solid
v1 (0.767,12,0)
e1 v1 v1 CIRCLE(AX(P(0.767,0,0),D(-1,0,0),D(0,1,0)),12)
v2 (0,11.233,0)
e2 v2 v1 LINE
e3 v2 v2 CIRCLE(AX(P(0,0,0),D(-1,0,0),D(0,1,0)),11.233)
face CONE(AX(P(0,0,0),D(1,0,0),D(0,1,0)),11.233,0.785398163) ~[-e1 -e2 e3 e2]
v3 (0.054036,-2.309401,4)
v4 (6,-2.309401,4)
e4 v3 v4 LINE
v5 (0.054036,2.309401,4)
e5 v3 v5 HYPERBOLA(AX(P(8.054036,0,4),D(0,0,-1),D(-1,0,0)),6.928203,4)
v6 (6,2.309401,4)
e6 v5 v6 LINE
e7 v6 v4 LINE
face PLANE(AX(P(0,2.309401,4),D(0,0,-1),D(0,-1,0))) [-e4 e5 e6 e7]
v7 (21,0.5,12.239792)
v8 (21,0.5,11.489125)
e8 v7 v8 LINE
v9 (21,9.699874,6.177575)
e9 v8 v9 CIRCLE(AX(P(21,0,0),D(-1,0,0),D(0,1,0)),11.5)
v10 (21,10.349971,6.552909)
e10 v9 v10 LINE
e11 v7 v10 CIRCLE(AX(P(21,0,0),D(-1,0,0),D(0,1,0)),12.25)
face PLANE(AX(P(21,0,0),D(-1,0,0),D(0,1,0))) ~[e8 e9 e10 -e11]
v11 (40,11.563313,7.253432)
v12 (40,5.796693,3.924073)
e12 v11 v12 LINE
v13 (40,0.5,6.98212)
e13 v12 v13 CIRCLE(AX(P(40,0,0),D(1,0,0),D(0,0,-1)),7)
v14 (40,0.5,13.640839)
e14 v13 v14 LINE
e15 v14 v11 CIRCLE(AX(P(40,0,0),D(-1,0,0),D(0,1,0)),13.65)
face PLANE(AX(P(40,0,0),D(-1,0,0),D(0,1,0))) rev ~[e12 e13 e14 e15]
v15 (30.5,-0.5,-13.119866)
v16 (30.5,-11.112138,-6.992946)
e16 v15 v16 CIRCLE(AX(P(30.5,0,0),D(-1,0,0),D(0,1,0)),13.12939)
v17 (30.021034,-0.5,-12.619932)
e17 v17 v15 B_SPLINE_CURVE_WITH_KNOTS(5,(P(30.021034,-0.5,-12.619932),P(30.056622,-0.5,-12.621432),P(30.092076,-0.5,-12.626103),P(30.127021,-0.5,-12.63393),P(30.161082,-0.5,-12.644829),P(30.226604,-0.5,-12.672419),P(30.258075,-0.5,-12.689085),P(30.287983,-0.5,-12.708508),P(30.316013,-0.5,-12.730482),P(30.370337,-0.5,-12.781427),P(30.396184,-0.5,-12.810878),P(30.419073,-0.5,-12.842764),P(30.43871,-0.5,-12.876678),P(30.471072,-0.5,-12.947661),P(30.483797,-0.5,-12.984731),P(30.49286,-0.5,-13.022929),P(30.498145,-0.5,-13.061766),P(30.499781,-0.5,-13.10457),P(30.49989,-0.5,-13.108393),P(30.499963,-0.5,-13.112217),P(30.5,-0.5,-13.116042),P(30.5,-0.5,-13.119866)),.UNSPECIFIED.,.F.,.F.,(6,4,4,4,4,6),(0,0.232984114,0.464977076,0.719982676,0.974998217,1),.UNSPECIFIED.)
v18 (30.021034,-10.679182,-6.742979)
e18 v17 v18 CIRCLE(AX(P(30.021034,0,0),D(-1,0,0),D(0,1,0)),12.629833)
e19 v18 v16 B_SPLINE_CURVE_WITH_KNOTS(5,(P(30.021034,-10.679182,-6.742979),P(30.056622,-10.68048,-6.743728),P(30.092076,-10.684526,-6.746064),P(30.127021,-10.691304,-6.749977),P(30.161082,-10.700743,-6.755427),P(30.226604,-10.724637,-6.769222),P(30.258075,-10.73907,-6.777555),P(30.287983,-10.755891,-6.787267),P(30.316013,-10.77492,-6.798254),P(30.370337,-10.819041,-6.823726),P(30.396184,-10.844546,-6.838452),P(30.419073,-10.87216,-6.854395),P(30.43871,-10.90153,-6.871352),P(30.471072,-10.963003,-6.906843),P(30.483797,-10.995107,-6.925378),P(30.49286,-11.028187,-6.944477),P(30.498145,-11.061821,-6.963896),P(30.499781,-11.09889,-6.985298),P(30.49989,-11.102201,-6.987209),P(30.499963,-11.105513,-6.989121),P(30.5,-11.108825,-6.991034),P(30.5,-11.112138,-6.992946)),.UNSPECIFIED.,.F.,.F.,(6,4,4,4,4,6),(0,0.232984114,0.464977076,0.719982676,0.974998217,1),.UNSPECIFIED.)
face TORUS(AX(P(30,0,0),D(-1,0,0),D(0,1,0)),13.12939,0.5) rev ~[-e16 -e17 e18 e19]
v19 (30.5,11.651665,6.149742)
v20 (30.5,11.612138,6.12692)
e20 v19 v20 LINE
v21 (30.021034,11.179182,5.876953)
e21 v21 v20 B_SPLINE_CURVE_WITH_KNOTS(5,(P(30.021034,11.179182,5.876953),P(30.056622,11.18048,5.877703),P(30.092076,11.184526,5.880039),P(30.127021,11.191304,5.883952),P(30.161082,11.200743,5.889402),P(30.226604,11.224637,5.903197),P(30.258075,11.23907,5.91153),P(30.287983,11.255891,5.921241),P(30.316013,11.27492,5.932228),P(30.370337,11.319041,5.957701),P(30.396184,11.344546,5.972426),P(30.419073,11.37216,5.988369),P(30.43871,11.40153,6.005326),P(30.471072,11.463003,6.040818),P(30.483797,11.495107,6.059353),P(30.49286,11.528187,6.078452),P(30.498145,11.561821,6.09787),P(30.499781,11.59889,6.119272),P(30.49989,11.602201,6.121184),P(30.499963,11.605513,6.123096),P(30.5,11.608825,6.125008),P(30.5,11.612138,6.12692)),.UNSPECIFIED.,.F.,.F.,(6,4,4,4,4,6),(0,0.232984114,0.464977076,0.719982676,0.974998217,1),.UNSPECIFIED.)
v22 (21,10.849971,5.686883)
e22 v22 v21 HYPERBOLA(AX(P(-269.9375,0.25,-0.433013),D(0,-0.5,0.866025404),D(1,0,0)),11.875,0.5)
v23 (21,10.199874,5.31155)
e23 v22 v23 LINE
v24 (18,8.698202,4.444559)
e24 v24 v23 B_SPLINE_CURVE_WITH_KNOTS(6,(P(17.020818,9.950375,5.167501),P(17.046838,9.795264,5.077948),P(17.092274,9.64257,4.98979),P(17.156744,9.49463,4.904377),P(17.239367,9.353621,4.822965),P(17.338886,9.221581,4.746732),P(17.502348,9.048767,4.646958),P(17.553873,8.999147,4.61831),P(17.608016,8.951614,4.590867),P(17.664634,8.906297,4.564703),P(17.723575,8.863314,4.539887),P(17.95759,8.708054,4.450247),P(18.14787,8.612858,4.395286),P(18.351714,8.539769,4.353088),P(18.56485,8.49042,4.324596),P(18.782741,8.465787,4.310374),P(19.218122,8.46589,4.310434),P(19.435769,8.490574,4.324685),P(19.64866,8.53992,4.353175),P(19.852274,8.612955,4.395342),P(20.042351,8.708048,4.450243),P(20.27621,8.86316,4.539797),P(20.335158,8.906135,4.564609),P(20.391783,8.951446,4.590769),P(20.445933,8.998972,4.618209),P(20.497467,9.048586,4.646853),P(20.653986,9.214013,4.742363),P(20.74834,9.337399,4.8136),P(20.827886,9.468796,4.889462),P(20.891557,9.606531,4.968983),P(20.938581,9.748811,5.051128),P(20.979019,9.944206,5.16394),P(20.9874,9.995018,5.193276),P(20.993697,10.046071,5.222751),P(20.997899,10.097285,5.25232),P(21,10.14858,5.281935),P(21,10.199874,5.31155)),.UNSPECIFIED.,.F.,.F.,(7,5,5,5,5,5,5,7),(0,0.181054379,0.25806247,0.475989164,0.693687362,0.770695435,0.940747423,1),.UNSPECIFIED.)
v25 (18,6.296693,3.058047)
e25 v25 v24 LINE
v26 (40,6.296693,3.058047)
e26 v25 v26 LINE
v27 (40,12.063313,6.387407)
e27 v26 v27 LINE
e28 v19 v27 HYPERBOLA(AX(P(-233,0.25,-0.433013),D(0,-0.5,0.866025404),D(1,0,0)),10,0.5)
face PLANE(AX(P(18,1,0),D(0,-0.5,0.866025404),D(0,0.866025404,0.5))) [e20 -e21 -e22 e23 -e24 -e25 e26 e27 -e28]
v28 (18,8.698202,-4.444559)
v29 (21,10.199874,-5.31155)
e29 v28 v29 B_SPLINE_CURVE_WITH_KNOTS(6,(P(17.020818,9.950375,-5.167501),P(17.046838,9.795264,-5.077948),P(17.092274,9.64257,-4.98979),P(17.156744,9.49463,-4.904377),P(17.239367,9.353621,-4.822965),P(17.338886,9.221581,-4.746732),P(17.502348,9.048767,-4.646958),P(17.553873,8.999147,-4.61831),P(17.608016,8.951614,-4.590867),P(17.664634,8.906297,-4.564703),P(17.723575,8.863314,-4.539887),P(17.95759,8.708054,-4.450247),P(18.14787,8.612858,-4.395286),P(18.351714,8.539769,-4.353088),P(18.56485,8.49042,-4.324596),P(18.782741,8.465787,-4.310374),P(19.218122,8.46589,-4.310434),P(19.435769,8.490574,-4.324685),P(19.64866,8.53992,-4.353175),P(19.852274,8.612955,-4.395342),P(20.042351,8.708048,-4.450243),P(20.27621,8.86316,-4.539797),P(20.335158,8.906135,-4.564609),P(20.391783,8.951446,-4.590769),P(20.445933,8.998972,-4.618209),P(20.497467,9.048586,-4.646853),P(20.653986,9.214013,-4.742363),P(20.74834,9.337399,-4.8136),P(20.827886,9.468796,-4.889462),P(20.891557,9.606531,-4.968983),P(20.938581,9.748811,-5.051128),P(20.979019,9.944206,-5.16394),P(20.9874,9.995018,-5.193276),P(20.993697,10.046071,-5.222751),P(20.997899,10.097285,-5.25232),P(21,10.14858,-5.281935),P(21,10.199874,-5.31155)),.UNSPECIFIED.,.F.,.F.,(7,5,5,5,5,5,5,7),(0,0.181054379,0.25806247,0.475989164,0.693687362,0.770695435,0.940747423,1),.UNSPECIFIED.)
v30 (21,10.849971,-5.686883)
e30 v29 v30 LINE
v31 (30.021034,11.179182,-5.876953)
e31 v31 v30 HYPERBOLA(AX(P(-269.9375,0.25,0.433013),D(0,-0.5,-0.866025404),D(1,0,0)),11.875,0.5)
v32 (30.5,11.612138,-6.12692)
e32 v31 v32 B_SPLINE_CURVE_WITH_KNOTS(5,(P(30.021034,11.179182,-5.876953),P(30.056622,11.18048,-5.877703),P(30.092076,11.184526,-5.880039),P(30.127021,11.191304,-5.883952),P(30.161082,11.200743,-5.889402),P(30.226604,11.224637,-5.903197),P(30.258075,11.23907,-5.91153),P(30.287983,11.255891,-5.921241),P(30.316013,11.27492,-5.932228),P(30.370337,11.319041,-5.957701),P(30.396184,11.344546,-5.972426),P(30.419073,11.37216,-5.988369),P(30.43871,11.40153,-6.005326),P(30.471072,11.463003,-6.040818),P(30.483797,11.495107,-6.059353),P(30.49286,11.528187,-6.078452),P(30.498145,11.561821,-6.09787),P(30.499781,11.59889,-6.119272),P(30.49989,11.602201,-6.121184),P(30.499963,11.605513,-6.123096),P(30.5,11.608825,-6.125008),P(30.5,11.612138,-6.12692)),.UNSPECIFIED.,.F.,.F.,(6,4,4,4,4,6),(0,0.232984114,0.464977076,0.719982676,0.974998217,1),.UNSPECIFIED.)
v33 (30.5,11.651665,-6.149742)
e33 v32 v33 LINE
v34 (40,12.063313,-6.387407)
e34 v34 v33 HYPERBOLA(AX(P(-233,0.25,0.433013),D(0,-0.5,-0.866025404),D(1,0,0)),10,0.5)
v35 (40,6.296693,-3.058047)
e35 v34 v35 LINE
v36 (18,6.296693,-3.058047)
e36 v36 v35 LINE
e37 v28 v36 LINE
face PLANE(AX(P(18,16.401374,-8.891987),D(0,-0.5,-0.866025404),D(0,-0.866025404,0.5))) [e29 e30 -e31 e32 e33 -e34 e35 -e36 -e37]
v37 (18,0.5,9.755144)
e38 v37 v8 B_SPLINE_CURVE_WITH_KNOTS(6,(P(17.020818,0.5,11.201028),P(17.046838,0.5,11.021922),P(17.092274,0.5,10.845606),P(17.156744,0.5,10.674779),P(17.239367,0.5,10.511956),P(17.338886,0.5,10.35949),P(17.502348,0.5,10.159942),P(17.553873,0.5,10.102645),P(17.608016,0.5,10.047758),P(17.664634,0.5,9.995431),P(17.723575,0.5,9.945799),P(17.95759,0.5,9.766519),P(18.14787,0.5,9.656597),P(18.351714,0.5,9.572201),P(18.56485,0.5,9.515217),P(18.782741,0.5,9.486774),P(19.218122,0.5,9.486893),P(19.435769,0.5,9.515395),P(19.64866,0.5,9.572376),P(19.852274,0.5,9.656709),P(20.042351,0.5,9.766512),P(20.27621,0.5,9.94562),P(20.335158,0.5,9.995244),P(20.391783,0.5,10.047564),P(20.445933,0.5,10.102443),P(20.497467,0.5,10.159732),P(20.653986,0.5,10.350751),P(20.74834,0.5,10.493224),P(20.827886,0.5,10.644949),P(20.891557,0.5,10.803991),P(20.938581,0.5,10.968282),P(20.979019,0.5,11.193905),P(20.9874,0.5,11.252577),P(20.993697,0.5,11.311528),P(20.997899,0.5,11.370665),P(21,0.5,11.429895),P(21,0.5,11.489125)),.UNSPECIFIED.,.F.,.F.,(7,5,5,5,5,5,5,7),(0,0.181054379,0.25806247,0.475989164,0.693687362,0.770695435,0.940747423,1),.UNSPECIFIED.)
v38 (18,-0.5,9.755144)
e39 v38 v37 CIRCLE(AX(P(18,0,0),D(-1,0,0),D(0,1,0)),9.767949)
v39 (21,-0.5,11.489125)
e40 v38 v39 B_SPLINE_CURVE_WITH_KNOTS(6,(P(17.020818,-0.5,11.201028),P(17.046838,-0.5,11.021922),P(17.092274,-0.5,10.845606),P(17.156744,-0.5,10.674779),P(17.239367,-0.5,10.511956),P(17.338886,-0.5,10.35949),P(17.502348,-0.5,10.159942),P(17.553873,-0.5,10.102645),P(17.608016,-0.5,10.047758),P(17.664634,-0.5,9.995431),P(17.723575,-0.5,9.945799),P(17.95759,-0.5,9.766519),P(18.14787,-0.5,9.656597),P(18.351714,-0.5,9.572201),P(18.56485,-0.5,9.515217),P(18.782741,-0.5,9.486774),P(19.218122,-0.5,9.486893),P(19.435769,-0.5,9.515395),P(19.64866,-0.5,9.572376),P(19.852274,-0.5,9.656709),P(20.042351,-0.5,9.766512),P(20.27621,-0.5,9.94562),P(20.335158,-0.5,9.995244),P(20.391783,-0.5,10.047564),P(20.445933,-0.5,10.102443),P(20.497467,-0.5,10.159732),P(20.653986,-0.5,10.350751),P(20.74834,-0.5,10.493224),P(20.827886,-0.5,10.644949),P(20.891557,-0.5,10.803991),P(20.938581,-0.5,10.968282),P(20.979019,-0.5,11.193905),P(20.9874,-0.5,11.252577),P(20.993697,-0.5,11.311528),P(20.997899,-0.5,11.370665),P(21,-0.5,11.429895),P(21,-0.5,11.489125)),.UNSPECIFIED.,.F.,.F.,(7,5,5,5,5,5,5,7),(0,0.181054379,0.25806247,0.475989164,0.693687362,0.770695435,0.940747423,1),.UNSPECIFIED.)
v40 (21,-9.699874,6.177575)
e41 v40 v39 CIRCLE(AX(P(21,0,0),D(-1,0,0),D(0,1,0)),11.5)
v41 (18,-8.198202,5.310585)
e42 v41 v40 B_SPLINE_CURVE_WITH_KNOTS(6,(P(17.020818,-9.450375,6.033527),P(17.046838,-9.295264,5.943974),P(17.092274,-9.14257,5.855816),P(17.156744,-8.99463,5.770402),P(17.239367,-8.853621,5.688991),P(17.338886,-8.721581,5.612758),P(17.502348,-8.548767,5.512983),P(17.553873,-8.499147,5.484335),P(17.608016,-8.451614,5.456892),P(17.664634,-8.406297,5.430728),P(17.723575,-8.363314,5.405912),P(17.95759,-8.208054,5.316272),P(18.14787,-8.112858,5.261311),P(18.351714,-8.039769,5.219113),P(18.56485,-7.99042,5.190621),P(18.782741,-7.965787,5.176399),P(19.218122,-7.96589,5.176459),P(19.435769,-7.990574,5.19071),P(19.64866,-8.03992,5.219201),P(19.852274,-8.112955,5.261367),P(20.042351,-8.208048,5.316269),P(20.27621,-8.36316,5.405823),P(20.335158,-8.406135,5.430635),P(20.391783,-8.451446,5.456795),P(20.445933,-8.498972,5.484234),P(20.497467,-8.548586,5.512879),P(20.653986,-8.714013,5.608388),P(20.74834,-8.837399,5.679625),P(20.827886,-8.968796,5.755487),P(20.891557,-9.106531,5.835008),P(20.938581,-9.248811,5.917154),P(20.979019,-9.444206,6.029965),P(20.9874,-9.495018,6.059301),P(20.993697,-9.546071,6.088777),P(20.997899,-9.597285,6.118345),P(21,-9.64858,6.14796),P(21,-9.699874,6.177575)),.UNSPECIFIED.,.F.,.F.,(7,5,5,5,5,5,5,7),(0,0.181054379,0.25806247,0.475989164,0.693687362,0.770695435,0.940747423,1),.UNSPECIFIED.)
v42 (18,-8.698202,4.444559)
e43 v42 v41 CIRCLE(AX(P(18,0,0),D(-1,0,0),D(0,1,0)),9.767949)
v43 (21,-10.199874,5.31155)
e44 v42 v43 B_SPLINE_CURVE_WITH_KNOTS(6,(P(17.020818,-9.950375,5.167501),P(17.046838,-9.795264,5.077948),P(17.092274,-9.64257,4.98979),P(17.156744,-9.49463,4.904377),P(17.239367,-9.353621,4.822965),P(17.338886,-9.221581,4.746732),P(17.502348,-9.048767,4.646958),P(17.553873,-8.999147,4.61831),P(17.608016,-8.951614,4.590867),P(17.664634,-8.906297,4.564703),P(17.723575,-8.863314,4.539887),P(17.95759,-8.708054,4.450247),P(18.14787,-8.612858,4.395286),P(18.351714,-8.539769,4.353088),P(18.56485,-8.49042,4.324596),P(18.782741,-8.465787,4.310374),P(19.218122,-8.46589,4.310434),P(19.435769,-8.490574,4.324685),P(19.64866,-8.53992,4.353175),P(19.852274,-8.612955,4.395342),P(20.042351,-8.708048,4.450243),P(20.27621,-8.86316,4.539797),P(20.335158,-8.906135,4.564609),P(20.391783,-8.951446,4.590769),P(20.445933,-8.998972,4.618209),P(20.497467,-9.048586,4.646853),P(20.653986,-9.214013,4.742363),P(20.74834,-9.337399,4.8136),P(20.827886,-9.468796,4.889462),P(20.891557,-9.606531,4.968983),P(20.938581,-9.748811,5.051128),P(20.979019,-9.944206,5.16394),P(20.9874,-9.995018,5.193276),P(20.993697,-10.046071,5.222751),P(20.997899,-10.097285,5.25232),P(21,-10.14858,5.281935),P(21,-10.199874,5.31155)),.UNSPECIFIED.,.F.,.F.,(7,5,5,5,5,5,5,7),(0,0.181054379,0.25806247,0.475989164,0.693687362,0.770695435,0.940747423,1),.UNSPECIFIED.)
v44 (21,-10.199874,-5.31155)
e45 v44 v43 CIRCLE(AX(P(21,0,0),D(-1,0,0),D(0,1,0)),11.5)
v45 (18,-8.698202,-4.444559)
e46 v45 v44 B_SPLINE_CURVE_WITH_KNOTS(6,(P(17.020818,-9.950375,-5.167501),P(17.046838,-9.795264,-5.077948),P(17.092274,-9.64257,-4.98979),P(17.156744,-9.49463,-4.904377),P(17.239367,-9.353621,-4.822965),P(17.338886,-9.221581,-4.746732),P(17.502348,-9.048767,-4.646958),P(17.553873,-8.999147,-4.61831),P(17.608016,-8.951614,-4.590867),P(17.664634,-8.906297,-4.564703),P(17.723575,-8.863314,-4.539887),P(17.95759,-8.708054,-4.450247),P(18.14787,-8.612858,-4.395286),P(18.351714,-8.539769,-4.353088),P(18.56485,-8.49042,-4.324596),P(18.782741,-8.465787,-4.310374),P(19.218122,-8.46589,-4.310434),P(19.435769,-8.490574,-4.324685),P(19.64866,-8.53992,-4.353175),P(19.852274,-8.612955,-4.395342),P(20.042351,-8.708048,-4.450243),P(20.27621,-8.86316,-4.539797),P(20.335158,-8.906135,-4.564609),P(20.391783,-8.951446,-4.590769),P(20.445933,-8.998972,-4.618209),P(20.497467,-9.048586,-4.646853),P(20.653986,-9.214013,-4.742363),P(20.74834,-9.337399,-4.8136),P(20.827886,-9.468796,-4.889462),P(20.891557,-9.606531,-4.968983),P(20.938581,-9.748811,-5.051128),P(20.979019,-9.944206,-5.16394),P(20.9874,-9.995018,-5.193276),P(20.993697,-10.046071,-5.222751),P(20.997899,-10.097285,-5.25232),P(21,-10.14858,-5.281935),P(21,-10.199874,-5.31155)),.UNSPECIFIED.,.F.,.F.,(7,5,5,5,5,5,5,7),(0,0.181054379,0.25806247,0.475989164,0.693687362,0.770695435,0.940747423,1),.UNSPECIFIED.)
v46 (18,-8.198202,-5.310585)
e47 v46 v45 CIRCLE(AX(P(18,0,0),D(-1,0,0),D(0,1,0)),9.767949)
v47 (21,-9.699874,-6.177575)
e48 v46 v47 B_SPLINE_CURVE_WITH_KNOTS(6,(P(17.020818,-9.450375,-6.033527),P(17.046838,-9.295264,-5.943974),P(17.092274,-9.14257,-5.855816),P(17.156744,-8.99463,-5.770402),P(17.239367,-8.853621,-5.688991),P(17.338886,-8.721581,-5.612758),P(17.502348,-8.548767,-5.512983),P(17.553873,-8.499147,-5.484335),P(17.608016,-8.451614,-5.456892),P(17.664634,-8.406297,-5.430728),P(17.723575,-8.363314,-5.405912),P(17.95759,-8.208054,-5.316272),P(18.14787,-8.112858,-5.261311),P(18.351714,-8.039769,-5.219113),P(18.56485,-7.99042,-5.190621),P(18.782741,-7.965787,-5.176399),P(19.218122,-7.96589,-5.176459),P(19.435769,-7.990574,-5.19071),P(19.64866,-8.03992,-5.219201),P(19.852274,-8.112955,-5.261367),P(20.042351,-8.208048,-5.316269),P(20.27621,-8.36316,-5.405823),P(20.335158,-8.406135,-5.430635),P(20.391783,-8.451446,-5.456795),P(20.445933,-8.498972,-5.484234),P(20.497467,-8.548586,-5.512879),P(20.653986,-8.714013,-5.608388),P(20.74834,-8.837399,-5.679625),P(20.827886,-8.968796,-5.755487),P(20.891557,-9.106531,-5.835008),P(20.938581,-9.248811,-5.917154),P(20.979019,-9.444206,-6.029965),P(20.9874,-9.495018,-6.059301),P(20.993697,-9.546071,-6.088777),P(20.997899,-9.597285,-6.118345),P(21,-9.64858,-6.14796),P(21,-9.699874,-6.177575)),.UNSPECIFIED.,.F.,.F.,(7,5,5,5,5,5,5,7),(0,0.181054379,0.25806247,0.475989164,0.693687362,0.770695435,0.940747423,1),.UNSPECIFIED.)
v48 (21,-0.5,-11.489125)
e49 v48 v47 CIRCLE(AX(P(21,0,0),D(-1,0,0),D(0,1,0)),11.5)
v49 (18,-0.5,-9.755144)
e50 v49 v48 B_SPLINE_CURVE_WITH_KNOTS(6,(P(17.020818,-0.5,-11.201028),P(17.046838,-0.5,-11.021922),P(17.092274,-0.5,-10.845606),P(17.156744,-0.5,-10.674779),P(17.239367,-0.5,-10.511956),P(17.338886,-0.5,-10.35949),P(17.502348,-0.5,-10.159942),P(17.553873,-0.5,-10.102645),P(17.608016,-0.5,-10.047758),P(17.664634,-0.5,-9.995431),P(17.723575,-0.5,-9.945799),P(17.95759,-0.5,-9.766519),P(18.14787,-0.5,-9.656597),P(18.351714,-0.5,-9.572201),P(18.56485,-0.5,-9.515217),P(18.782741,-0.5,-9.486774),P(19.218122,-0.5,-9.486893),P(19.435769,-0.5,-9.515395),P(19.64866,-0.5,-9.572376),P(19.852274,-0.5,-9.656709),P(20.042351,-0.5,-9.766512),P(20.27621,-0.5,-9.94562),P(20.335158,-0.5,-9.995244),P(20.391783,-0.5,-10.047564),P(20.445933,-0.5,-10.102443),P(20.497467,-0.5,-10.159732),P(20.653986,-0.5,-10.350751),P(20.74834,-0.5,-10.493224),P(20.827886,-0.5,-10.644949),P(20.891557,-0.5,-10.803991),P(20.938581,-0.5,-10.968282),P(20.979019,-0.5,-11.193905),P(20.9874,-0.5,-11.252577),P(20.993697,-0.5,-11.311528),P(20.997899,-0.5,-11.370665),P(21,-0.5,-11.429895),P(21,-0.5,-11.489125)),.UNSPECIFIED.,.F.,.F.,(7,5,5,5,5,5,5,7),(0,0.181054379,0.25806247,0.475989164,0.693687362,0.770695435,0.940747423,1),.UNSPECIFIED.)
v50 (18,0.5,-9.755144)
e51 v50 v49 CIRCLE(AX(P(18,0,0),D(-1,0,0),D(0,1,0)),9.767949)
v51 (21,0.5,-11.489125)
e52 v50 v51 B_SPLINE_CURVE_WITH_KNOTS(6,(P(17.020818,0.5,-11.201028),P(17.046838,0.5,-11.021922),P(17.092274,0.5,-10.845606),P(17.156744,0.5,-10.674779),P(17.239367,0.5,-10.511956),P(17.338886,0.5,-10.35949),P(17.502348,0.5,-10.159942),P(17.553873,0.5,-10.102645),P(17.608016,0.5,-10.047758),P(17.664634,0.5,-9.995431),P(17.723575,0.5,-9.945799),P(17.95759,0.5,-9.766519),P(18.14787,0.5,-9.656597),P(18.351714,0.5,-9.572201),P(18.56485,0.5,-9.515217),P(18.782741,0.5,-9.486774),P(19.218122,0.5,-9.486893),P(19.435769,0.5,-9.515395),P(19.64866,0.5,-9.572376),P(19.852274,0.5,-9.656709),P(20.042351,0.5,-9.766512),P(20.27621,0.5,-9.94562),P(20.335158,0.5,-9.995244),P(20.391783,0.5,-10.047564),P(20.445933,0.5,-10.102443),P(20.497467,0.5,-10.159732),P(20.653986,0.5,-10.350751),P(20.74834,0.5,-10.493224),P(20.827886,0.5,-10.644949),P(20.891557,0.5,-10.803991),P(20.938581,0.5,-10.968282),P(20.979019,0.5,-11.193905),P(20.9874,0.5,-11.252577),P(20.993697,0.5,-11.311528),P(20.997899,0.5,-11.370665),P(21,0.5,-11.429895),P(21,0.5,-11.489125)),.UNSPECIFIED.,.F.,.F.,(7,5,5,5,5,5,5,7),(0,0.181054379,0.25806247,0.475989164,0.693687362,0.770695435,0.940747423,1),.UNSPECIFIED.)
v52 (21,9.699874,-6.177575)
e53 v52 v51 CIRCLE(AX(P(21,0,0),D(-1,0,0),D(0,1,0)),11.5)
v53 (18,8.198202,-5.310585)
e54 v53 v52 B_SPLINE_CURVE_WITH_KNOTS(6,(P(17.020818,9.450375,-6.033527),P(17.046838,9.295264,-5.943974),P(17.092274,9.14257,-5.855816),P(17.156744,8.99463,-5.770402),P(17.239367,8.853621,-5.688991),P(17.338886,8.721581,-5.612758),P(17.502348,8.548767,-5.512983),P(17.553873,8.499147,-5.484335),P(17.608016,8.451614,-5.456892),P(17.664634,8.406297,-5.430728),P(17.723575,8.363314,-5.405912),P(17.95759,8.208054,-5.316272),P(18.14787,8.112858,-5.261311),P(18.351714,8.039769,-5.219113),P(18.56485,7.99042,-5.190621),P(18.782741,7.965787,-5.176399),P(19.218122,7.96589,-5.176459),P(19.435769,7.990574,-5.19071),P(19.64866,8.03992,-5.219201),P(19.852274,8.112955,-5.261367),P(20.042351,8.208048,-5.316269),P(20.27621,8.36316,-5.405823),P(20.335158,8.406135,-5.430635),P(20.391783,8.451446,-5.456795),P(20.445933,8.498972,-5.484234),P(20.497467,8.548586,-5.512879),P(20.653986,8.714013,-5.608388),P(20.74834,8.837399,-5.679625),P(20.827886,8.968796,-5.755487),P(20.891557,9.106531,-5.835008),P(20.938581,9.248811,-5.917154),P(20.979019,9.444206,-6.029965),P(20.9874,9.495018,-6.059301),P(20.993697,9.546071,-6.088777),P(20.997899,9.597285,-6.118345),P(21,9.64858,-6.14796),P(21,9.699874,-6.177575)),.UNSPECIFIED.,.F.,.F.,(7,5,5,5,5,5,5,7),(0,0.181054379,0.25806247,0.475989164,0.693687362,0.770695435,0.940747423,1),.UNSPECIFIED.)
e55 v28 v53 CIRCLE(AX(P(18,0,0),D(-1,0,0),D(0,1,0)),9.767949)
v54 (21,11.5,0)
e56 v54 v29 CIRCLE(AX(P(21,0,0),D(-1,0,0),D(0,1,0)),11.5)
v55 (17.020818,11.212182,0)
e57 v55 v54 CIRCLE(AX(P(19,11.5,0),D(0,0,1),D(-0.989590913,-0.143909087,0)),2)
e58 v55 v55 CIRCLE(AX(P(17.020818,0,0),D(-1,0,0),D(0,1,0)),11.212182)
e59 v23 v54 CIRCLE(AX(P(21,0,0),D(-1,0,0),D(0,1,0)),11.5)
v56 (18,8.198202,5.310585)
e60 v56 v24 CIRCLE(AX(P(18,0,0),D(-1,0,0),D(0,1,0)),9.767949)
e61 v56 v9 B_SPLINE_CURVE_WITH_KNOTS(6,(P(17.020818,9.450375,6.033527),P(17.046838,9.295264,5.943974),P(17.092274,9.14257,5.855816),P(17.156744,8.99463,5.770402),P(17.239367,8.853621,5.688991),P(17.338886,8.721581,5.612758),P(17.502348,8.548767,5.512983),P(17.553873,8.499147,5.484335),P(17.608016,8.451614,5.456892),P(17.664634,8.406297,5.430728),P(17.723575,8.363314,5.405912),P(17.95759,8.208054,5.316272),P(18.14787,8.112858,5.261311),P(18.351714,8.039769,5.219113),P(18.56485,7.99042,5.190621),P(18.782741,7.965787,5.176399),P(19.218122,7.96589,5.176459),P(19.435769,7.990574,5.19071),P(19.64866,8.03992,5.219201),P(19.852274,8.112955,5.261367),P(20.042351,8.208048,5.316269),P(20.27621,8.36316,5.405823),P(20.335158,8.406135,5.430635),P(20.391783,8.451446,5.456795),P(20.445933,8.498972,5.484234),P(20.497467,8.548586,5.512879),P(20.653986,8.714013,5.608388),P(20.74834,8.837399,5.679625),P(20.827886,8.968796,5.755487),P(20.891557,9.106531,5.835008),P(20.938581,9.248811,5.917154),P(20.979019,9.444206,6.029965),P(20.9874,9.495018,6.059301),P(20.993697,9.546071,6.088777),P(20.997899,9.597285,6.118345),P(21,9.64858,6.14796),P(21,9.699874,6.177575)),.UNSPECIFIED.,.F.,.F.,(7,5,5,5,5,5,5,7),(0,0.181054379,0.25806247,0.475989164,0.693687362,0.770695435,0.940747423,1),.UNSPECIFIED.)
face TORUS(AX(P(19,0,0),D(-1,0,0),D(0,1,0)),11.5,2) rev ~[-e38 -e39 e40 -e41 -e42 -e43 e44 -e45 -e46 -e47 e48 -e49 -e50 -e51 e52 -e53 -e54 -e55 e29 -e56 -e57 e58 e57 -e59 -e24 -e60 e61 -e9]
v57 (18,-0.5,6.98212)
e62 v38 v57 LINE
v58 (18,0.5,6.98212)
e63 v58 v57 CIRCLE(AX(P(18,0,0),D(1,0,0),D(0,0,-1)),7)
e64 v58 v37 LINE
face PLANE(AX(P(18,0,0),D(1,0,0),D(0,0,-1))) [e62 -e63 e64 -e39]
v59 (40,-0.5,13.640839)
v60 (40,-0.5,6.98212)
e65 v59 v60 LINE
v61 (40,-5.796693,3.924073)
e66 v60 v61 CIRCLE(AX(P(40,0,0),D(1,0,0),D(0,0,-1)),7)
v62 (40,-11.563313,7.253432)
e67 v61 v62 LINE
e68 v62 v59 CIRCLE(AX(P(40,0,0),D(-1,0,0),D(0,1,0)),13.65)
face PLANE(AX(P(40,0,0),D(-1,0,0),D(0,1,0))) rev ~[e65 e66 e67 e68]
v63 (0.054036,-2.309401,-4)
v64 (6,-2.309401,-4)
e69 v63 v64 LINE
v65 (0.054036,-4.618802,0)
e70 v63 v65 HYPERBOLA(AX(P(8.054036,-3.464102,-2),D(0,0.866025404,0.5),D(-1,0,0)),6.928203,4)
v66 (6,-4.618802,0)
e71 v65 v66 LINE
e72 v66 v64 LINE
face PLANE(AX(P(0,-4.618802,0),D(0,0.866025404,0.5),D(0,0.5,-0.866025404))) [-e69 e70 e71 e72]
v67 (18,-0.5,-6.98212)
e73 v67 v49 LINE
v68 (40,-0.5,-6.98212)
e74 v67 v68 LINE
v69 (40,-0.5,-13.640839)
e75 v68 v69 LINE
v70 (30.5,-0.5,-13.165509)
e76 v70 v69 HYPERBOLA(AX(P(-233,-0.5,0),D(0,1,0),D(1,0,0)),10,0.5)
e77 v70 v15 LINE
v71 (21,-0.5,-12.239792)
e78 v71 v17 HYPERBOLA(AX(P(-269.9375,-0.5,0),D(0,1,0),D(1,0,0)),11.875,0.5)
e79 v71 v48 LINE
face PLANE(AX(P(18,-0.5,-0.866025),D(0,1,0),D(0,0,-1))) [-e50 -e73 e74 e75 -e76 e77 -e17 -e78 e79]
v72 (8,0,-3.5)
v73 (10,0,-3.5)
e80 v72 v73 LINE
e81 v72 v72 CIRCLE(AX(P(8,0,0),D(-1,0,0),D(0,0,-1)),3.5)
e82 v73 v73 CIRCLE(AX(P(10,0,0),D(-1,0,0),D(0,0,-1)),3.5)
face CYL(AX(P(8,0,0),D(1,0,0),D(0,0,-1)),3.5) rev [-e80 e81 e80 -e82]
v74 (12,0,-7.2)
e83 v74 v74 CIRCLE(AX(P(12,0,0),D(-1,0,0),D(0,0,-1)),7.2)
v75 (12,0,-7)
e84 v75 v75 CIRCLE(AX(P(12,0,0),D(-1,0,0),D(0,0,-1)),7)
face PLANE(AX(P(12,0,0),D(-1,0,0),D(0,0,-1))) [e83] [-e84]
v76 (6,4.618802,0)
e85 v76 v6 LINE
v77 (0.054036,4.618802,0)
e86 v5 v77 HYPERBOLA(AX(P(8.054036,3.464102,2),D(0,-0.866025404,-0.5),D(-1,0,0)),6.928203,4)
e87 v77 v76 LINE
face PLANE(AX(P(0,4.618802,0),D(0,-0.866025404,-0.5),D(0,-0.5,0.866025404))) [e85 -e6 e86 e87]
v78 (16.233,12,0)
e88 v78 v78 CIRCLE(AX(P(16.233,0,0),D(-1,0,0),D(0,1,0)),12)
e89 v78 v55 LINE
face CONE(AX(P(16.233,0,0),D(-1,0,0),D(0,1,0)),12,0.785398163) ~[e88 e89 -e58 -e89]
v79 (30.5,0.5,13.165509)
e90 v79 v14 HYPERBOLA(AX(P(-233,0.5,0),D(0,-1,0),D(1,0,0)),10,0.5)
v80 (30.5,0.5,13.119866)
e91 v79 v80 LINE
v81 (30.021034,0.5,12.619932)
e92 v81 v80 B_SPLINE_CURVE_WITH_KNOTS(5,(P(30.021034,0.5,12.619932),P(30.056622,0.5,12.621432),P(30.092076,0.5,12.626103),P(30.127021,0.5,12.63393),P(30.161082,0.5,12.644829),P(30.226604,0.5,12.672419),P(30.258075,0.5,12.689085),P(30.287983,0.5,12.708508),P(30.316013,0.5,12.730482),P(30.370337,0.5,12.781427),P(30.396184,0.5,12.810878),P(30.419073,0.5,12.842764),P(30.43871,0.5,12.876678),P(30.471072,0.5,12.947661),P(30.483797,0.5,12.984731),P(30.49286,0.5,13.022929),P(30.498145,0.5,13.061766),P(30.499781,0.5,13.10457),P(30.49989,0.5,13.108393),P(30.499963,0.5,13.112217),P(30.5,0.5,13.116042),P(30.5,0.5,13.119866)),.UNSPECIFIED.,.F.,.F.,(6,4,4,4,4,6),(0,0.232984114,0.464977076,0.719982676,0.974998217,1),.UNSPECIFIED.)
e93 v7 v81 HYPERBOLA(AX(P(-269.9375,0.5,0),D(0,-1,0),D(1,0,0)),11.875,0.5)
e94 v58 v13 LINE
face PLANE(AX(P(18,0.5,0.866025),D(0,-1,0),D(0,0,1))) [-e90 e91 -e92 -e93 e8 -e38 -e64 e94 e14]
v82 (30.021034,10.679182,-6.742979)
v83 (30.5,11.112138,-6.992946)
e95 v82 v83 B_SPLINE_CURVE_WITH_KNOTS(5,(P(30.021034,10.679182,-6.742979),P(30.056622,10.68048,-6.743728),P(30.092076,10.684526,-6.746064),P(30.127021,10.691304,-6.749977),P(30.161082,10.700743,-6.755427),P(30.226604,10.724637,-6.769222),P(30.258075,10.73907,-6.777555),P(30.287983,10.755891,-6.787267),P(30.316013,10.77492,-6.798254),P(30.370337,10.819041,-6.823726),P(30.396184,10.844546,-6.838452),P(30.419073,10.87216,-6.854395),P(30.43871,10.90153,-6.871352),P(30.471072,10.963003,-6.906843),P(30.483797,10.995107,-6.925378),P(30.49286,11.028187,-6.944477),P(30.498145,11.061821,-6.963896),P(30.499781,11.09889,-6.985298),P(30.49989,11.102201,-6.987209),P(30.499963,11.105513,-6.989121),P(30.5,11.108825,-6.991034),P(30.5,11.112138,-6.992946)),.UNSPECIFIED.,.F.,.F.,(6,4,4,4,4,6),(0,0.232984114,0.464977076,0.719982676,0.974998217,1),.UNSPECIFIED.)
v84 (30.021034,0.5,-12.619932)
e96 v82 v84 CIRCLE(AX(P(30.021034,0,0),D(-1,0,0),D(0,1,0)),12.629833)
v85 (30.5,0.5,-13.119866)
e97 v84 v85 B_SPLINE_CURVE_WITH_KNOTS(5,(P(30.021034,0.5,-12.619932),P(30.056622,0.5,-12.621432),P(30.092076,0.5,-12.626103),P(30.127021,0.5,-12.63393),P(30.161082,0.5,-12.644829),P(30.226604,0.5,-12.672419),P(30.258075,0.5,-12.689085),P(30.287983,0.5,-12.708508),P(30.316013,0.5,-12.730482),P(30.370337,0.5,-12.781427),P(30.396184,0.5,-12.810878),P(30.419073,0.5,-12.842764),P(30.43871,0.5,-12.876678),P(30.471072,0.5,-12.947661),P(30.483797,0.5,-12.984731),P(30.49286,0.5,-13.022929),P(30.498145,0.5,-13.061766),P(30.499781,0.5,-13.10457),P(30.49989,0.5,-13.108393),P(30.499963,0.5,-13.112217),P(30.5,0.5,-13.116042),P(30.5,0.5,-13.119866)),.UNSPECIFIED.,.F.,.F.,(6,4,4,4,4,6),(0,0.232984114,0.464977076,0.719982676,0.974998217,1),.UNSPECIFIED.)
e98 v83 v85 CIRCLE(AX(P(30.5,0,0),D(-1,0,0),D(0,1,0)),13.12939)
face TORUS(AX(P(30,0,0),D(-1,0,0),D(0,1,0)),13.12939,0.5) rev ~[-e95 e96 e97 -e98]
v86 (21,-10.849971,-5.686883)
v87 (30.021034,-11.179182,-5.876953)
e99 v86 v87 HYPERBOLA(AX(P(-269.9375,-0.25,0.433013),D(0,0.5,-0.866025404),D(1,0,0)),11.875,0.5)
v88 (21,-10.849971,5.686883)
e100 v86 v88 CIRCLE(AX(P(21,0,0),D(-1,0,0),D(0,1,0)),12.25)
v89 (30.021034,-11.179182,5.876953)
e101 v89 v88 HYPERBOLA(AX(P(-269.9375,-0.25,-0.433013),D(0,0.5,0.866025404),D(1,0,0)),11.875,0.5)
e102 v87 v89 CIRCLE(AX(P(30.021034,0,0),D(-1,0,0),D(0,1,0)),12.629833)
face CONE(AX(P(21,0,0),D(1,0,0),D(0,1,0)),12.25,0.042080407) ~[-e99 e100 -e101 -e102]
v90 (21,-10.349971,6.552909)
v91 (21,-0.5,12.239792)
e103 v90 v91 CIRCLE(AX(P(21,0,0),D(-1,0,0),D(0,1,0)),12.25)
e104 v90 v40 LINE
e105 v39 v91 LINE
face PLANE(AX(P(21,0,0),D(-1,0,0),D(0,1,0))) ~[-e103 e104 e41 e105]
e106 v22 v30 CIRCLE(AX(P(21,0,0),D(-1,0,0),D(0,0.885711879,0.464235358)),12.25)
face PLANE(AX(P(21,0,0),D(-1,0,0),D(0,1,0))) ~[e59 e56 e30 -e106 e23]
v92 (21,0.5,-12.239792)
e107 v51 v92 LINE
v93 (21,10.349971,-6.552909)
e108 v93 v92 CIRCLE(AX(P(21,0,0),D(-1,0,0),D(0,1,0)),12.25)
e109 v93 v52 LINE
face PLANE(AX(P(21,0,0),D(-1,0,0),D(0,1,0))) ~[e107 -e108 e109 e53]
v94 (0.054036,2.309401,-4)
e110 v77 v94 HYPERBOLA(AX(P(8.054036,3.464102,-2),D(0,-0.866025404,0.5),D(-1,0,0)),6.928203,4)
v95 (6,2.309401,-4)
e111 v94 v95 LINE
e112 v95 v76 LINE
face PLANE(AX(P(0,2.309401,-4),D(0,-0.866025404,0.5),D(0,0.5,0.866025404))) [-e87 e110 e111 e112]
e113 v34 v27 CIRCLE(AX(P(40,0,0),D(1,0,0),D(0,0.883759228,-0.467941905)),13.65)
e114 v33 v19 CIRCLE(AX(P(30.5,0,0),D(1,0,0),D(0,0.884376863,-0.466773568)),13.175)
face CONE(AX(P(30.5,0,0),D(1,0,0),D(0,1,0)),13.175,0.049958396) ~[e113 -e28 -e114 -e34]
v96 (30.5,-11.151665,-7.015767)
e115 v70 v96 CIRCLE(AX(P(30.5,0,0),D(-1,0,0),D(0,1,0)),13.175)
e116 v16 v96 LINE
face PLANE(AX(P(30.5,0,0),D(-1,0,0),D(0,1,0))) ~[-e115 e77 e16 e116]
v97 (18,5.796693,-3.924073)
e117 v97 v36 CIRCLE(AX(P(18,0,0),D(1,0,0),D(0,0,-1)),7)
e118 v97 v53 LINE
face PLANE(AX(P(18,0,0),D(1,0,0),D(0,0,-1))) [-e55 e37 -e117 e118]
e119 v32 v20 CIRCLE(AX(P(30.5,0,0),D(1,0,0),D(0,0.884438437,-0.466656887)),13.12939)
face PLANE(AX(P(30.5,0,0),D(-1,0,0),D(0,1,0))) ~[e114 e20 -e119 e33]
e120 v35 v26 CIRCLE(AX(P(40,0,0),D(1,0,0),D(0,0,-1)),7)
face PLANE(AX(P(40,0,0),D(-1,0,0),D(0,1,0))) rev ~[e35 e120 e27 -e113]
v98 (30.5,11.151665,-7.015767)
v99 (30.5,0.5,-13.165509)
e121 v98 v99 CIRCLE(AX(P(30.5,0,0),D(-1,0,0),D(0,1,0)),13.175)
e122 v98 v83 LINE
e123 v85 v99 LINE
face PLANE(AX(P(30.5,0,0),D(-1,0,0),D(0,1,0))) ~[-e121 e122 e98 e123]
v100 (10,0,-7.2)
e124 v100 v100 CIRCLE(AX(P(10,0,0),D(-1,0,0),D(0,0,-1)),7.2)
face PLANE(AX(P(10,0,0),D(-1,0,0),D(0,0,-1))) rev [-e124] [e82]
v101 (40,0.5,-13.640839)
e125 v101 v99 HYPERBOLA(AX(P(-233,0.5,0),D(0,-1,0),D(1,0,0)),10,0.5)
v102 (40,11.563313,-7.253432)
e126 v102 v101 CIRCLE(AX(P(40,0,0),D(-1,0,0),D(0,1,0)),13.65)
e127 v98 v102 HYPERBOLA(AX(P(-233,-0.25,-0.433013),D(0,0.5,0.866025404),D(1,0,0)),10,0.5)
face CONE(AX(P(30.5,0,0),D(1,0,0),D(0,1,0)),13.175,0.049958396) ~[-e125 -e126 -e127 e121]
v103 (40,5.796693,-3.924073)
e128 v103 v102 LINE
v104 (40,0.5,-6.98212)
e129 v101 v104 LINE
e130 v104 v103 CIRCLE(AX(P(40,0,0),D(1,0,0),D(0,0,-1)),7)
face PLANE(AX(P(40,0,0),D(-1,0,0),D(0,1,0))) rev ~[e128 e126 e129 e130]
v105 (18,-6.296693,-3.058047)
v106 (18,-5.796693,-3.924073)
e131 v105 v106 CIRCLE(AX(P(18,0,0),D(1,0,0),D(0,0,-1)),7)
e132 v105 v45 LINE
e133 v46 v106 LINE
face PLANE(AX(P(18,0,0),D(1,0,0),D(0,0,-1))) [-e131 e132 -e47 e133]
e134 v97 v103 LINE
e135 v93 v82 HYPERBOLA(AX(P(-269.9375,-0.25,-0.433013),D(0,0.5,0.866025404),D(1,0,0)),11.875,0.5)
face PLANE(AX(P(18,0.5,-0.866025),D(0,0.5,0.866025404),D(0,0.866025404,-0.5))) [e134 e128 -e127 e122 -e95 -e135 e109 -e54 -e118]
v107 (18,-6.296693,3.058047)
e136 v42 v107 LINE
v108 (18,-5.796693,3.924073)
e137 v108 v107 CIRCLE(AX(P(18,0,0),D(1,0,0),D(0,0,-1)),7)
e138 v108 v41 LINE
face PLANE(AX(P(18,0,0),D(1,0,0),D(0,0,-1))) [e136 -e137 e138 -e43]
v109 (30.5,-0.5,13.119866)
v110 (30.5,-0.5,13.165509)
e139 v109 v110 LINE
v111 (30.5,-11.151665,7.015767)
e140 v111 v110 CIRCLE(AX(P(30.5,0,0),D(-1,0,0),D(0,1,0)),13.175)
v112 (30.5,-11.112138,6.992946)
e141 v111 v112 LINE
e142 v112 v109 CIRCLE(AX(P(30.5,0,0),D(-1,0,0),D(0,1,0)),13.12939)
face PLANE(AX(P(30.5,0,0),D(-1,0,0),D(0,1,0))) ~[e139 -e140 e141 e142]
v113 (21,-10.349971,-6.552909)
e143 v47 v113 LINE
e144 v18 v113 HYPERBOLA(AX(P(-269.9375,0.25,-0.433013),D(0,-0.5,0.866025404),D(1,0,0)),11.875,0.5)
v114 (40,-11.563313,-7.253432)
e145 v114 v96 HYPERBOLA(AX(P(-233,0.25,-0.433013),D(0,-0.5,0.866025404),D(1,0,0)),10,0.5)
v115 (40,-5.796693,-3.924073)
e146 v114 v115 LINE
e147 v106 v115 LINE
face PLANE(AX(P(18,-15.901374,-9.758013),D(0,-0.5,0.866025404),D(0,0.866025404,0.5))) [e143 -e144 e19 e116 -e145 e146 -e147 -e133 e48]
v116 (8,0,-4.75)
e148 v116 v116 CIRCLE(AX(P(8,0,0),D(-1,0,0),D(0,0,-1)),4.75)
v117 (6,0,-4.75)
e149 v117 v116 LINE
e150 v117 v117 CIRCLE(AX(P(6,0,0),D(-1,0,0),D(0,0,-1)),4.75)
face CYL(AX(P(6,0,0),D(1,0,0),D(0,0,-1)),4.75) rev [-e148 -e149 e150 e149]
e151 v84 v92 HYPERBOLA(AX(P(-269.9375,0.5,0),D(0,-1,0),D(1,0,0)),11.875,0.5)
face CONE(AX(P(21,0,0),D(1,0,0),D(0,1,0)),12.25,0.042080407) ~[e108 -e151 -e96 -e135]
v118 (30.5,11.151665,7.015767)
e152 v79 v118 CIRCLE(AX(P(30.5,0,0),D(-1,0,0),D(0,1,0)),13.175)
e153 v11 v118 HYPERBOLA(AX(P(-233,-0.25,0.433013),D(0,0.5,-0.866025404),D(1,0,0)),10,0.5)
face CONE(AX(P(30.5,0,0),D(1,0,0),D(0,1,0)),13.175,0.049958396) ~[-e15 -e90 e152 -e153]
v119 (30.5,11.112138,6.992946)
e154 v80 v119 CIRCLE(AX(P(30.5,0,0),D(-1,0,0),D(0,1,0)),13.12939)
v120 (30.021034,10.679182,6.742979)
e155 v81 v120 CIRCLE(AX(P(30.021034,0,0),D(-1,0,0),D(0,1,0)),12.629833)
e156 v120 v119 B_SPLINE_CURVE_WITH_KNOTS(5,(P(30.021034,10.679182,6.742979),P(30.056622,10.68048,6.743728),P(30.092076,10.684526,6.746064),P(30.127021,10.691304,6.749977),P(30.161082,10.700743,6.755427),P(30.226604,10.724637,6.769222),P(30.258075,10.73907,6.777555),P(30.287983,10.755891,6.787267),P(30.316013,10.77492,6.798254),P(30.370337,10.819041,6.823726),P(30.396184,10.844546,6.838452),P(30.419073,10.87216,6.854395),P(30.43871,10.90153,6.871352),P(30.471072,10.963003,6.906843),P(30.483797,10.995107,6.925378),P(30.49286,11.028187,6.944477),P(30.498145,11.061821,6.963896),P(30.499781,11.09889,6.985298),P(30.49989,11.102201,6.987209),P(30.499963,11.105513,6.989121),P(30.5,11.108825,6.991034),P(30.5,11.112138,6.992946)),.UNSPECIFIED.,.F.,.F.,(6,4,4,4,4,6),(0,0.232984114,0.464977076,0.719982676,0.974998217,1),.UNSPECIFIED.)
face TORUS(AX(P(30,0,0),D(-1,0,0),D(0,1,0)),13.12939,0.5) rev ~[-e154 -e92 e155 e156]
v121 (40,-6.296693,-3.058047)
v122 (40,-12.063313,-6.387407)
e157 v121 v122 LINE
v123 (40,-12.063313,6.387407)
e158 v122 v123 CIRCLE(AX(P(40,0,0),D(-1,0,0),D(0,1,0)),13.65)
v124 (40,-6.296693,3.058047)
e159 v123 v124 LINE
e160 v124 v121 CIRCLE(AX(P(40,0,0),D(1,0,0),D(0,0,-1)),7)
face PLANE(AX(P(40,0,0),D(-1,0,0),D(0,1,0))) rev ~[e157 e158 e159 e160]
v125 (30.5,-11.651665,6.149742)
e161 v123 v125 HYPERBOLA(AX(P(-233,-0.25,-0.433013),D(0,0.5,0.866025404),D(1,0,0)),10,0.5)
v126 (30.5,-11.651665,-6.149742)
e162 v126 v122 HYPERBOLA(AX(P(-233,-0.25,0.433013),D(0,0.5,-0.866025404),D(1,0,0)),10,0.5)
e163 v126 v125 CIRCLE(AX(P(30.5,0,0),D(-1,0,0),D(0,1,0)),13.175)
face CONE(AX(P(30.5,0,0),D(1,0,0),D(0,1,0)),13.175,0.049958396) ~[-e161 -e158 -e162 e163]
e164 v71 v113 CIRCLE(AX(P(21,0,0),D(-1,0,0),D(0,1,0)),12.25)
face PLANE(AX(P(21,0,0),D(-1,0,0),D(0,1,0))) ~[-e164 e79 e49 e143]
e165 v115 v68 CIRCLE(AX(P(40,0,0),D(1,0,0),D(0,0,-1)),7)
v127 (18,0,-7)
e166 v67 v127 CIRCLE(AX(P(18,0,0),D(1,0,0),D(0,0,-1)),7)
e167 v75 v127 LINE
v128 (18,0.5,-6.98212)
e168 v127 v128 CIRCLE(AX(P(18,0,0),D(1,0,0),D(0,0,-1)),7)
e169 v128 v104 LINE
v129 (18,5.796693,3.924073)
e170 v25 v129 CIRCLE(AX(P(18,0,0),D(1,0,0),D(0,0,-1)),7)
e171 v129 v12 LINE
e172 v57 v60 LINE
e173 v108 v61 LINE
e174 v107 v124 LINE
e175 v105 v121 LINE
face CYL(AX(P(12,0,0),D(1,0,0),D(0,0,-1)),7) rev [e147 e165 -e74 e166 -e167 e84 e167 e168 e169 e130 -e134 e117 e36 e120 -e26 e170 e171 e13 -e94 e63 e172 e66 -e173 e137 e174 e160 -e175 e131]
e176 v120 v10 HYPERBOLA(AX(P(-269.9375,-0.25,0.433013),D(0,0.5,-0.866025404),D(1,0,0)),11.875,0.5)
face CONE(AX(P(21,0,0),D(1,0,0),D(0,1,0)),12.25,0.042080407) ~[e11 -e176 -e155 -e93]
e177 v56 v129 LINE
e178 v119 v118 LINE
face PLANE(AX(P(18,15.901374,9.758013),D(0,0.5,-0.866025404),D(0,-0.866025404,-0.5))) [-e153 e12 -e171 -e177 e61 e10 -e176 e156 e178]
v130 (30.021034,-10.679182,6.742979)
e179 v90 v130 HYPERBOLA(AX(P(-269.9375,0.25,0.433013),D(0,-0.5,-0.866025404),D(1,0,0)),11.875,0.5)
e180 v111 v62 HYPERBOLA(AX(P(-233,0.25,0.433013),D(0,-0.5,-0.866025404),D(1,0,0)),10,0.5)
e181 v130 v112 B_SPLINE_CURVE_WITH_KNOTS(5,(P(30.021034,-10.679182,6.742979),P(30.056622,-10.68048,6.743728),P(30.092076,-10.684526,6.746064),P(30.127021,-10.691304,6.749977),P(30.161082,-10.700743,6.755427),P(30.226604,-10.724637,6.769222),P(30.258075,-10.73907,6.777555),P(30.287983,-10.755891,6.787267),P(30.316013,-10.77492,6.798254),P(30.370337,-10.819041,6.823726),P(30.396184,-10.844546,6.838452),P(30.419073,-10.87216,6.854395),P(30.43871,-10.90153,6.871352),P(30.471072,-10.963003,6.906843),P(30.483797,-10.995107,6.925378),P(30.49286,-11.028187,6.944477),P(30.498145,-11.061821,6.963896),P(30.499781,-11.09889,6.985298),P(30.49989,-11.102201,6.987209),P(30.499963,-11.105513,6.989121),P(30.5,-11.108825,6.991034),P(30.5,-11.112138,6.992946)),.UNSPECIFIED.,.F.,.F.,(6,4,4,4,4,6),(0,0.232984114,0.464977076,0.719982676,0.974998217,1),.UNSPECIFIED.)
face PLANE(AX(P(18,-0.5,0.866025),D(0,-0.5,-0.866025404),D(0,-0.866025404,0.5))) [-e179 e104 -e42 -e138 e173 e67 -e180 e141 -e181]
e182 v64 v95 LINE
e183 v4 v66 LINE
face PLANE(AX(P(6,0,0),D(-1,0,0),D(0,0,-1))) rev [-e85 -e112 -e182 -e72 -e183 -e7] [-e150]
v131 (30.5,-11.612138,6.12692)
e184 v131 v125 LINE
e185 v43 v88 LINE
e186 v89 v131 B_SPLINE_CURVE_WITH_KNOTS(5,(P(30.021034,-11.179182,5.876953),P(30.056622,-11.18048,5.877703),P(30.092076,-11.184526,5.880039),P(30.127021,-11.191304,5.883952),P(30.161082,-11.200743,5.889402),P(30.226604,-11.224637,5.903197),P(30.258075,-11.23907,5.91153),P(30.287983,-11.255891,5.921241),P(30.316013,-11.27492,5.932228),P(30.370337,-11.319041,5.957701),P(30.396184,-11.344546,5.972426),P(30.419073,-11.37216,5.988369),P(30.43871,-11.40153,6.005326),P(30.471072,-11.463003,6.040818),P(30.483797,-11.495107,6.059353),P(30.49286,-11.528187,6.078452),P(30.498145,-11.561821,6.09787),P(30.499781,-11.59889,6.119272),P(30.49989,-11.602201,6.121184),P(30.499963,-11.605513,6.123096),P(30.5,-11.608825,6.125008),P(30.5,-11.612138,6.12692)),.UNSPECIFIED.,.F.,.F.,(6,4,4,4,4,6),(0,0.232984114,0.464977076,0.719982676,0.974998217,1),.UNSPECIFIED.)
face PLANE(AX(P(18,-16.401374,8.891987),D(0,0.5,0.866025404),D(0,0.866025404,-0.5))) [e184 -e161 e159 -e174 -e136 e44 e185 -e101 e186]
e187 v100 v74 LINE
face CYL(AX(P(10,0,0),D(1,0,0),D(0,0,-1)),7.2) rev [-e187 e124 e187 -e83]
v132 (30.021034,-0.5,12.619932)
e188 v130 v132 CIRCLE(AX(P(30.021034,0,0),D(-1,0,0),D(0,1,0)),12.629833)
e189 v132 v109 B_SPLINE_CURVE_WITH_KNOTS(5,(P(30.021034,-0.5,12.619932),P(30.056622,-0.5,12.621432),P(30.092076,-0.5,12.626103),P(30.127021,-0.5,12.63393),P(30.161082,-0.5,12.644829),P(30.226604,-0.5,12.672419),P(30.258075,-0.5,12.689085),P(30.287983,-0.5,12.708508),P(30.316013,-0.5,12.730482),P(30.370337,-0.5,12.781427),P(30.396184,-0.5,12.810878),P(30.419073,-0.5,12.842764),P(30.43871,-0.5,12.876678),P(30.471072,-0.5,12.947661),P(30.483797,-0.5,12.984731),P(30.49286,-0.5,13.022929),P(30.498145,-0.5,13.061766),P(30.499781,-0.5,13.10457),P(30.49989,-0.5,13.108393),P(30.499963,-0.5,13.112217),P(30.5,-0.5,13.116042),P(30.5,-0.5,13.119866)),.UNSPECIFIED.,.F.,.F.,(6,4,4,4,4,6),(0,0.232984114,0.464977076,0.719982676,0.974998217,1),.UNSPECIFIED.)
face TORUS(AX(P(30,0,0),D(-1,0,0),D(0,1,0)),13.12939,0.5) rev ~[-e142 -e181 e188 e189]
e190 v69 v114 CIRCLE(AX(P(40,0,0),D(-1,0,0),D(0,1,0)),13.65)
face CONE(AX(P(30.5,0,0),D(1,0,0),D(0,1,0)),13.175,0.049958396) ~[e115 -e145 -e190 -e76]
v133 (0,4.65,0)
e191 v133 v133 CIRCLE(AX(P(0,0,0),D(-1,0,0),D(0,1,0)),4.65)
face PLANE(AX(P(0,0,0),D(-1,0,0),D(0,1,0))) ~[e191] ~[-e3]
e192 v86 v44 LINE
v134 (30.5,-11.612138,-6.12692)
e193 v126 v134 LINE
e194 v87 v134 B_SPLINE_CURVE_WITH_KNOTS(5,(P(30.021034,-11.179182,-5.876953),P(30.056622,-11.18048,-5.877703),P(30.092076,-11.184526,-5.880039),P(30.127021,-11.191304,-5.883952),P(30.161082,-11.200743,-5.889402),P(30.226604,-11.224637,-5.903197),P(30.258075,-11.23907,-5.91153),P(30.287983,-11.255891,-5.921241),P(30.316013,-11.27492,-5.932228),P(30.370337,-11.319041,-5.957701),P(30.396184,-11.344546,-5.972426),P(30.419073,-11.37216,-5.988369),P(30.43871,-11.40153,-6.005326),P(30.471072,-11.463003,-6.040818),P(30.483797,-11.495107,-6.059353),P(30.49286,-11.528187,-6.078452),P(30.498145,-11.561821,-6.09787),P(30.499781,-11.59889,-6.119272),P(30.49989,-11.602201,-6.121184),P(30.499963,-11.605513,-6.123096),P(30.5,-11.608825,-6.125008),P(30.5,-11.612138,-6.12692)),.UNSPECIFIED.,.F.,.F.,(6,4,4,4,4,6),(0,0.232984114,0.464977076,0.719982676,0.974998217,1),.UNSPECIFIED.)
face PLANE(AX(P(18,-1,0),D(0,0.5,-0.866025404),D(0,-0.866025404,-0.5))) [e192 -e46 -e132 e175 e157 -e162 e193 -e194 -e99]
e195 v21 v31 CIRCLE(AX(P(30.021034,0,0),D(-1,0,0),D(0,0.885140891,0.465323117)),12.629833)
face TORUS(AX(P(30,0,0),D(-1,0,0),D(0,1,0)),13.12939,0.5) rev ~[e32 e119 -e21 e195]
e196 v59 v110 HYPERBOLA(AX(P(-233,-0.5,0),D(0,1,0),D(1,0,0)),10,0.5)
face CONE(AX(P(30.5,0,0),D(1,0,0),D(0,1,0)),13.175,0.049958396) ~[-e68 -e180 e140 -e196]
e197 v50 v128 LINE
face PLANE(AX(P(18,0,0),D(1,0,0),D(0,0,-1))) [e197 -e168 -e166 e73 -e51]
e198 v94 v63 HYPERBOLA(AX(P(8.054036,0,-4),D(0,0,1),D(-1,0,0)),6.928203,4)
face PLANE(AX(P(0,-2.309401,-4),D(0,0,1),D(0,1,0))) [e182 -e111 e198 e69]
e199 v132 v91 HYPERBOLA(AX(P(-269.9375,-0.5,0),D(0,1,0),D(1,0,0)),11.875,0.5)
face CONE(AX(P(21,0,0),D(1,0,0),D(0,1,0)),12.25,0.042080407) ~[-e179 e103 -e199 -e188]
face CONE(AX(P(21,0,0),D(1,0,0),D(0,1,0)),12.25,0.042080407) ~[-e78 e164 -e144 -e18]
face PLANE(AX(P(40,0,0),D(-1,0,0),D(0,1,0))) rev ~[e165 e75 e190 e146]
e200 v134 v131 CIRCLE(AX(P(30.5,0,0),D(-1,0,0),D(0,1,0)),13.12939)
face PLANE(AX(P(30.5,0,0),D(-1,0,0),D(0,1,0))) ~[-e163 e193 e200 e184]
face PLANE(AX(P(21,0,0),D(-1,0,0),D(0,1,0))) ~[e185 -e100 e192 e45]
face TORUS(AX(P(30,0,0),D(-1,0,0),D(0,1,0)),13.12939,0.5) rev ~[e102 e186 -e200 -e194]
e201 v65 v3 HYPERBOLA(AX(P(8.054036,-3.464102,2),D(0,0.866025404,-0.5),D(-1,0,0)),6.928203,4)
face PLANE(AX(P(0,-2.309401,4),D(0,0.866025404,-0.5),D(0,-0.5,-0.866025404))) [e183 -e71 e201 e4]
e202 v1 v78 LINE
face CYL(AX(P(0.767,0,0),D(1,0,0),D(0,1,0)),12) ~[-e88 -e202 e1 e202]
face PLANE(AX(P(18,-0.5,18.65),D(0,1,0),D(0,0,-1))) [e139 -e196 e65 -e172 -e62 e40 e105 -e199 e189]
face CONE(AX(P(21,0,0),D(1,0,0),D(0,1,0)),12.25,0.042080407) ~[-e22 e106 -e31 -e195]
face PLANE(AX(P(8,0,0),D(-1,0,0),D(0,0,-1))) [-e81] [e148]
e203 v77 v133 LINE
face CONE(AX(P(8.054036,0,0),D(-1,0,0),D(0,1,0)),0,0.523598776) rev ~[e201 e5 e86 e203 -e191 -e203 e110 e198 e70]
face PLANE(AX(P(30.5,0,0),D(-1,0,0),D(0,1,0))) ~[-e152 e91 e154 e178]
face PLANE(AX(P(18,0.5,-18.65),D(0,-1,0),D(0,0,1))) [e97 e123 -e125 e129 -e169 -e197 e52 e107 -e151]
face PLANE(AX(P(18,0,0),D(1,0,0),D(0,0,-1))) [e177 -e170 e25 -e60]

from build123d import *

# Parameters (mm, degrees)
CUT_EXTRUDE1_DEPTH = 6
CUT_EXTRUDE2_DEPTH = 40


with BuildPart() as part:
    # Sketch1 → Revolve1 (revolve)
    with BuildSketch(Plane.XY):
        with BuildLine():
            Line((8.054036255, 0), (0, 4.65))
            Line((0, 4.65), (0, 11.233))
            Line((0, 11.233), (0.767, 12))
            Line((0.767, 12), (16.233, 12))
            Line((16.233, 12), (17.020818174, 11.212181826))
            ThreePointArc((17.020818174, 11.212181826), (19.144285046, 9.505211333), (21, 11.5))
            Line((21, 11.5), (21, 12.25))
            Line((21, 12.25), (30.021033995, 12.62983301))
            ThreePointArc((30.021033995, 12.62983301), (30.360913423, 12.783353536), (30.5, 13.129390385))
            Line((30.5, 13.129390385), (30.5, 13.175))
            Line((30.5, 13.175), (40, 13.65))
            Line((40, 13.65), (40, 0))
            Line((40, 0), (8.054036255, 0))
        make_face()
    revolve(axis=Axis((40, 0, 0), (-1, 0, 0)))

    # Sketch2 → Cut-Extrude1 (cut)
    with BuildSketch(Plane(origin=(0, 0, 0), x_dir=(0, 0, -1), z_dir=(1, 0, 0))):
        Polygon((-4, -2.309401077), (0, -4.618802154), (4, -2.309401077), (4, 2.309401077), (0, 4.618802154), (-4, 2.309401077), align=None)
    extrude(amount=CUT_EXTRUDE1_DEPTH, mode=Mode.SUBTRACT)

    # Sketch3 → Cut-Revolve1 (revolve, cut)
    with BuildSketch(Plane(origin=(0, 0, 0), x_dir=(1, 0, 0), z_dir=(0, 1, 0))):
        Polygon((6, 0), (6, 4.75), (8, 4.75), (8, 3.5), (10, 3.5), (10, 7.2), (12, 7.2), (12, 7), (42, 7), (42, 0), align=None)
    revolve(axis=Axis((42, 0, 0), (-1, 0, 0)), mode=Mode.SUBTRACT)

    # Sketch4 → Cut-Extrude2 (cut)
    with BuildSketch(Plane(origin=(18, 0, 0), x_dir=(0, 0, -1), z_dir=(1, 0, 0))):
        Polygon((-18.65, 0.5), (-18.65, -0.5), (-0.866025404, -0.5), (-9.758012702, -15.901373781), (-8.891987298, -16.401373781), (0, -1), (8.891987298, -16.401373781), (9.758012702, -15.901373781), (0.866025404, -0.5), (18.65, -0.5), (18.65, 0.5), (0.866025404, 0.5), (9.758012702, 15.901373781), (8.891987298, 16.401373781), (0, 1), (-8.891987298, 16.401373781), (-9.758012702, 15.901373781), (-0.866025404, 0.5), align=None)
    extrude(amount=CUT_EXTRUDE2_DEPTH, mode=Mode.SUBTRACT)


solid = part.part
